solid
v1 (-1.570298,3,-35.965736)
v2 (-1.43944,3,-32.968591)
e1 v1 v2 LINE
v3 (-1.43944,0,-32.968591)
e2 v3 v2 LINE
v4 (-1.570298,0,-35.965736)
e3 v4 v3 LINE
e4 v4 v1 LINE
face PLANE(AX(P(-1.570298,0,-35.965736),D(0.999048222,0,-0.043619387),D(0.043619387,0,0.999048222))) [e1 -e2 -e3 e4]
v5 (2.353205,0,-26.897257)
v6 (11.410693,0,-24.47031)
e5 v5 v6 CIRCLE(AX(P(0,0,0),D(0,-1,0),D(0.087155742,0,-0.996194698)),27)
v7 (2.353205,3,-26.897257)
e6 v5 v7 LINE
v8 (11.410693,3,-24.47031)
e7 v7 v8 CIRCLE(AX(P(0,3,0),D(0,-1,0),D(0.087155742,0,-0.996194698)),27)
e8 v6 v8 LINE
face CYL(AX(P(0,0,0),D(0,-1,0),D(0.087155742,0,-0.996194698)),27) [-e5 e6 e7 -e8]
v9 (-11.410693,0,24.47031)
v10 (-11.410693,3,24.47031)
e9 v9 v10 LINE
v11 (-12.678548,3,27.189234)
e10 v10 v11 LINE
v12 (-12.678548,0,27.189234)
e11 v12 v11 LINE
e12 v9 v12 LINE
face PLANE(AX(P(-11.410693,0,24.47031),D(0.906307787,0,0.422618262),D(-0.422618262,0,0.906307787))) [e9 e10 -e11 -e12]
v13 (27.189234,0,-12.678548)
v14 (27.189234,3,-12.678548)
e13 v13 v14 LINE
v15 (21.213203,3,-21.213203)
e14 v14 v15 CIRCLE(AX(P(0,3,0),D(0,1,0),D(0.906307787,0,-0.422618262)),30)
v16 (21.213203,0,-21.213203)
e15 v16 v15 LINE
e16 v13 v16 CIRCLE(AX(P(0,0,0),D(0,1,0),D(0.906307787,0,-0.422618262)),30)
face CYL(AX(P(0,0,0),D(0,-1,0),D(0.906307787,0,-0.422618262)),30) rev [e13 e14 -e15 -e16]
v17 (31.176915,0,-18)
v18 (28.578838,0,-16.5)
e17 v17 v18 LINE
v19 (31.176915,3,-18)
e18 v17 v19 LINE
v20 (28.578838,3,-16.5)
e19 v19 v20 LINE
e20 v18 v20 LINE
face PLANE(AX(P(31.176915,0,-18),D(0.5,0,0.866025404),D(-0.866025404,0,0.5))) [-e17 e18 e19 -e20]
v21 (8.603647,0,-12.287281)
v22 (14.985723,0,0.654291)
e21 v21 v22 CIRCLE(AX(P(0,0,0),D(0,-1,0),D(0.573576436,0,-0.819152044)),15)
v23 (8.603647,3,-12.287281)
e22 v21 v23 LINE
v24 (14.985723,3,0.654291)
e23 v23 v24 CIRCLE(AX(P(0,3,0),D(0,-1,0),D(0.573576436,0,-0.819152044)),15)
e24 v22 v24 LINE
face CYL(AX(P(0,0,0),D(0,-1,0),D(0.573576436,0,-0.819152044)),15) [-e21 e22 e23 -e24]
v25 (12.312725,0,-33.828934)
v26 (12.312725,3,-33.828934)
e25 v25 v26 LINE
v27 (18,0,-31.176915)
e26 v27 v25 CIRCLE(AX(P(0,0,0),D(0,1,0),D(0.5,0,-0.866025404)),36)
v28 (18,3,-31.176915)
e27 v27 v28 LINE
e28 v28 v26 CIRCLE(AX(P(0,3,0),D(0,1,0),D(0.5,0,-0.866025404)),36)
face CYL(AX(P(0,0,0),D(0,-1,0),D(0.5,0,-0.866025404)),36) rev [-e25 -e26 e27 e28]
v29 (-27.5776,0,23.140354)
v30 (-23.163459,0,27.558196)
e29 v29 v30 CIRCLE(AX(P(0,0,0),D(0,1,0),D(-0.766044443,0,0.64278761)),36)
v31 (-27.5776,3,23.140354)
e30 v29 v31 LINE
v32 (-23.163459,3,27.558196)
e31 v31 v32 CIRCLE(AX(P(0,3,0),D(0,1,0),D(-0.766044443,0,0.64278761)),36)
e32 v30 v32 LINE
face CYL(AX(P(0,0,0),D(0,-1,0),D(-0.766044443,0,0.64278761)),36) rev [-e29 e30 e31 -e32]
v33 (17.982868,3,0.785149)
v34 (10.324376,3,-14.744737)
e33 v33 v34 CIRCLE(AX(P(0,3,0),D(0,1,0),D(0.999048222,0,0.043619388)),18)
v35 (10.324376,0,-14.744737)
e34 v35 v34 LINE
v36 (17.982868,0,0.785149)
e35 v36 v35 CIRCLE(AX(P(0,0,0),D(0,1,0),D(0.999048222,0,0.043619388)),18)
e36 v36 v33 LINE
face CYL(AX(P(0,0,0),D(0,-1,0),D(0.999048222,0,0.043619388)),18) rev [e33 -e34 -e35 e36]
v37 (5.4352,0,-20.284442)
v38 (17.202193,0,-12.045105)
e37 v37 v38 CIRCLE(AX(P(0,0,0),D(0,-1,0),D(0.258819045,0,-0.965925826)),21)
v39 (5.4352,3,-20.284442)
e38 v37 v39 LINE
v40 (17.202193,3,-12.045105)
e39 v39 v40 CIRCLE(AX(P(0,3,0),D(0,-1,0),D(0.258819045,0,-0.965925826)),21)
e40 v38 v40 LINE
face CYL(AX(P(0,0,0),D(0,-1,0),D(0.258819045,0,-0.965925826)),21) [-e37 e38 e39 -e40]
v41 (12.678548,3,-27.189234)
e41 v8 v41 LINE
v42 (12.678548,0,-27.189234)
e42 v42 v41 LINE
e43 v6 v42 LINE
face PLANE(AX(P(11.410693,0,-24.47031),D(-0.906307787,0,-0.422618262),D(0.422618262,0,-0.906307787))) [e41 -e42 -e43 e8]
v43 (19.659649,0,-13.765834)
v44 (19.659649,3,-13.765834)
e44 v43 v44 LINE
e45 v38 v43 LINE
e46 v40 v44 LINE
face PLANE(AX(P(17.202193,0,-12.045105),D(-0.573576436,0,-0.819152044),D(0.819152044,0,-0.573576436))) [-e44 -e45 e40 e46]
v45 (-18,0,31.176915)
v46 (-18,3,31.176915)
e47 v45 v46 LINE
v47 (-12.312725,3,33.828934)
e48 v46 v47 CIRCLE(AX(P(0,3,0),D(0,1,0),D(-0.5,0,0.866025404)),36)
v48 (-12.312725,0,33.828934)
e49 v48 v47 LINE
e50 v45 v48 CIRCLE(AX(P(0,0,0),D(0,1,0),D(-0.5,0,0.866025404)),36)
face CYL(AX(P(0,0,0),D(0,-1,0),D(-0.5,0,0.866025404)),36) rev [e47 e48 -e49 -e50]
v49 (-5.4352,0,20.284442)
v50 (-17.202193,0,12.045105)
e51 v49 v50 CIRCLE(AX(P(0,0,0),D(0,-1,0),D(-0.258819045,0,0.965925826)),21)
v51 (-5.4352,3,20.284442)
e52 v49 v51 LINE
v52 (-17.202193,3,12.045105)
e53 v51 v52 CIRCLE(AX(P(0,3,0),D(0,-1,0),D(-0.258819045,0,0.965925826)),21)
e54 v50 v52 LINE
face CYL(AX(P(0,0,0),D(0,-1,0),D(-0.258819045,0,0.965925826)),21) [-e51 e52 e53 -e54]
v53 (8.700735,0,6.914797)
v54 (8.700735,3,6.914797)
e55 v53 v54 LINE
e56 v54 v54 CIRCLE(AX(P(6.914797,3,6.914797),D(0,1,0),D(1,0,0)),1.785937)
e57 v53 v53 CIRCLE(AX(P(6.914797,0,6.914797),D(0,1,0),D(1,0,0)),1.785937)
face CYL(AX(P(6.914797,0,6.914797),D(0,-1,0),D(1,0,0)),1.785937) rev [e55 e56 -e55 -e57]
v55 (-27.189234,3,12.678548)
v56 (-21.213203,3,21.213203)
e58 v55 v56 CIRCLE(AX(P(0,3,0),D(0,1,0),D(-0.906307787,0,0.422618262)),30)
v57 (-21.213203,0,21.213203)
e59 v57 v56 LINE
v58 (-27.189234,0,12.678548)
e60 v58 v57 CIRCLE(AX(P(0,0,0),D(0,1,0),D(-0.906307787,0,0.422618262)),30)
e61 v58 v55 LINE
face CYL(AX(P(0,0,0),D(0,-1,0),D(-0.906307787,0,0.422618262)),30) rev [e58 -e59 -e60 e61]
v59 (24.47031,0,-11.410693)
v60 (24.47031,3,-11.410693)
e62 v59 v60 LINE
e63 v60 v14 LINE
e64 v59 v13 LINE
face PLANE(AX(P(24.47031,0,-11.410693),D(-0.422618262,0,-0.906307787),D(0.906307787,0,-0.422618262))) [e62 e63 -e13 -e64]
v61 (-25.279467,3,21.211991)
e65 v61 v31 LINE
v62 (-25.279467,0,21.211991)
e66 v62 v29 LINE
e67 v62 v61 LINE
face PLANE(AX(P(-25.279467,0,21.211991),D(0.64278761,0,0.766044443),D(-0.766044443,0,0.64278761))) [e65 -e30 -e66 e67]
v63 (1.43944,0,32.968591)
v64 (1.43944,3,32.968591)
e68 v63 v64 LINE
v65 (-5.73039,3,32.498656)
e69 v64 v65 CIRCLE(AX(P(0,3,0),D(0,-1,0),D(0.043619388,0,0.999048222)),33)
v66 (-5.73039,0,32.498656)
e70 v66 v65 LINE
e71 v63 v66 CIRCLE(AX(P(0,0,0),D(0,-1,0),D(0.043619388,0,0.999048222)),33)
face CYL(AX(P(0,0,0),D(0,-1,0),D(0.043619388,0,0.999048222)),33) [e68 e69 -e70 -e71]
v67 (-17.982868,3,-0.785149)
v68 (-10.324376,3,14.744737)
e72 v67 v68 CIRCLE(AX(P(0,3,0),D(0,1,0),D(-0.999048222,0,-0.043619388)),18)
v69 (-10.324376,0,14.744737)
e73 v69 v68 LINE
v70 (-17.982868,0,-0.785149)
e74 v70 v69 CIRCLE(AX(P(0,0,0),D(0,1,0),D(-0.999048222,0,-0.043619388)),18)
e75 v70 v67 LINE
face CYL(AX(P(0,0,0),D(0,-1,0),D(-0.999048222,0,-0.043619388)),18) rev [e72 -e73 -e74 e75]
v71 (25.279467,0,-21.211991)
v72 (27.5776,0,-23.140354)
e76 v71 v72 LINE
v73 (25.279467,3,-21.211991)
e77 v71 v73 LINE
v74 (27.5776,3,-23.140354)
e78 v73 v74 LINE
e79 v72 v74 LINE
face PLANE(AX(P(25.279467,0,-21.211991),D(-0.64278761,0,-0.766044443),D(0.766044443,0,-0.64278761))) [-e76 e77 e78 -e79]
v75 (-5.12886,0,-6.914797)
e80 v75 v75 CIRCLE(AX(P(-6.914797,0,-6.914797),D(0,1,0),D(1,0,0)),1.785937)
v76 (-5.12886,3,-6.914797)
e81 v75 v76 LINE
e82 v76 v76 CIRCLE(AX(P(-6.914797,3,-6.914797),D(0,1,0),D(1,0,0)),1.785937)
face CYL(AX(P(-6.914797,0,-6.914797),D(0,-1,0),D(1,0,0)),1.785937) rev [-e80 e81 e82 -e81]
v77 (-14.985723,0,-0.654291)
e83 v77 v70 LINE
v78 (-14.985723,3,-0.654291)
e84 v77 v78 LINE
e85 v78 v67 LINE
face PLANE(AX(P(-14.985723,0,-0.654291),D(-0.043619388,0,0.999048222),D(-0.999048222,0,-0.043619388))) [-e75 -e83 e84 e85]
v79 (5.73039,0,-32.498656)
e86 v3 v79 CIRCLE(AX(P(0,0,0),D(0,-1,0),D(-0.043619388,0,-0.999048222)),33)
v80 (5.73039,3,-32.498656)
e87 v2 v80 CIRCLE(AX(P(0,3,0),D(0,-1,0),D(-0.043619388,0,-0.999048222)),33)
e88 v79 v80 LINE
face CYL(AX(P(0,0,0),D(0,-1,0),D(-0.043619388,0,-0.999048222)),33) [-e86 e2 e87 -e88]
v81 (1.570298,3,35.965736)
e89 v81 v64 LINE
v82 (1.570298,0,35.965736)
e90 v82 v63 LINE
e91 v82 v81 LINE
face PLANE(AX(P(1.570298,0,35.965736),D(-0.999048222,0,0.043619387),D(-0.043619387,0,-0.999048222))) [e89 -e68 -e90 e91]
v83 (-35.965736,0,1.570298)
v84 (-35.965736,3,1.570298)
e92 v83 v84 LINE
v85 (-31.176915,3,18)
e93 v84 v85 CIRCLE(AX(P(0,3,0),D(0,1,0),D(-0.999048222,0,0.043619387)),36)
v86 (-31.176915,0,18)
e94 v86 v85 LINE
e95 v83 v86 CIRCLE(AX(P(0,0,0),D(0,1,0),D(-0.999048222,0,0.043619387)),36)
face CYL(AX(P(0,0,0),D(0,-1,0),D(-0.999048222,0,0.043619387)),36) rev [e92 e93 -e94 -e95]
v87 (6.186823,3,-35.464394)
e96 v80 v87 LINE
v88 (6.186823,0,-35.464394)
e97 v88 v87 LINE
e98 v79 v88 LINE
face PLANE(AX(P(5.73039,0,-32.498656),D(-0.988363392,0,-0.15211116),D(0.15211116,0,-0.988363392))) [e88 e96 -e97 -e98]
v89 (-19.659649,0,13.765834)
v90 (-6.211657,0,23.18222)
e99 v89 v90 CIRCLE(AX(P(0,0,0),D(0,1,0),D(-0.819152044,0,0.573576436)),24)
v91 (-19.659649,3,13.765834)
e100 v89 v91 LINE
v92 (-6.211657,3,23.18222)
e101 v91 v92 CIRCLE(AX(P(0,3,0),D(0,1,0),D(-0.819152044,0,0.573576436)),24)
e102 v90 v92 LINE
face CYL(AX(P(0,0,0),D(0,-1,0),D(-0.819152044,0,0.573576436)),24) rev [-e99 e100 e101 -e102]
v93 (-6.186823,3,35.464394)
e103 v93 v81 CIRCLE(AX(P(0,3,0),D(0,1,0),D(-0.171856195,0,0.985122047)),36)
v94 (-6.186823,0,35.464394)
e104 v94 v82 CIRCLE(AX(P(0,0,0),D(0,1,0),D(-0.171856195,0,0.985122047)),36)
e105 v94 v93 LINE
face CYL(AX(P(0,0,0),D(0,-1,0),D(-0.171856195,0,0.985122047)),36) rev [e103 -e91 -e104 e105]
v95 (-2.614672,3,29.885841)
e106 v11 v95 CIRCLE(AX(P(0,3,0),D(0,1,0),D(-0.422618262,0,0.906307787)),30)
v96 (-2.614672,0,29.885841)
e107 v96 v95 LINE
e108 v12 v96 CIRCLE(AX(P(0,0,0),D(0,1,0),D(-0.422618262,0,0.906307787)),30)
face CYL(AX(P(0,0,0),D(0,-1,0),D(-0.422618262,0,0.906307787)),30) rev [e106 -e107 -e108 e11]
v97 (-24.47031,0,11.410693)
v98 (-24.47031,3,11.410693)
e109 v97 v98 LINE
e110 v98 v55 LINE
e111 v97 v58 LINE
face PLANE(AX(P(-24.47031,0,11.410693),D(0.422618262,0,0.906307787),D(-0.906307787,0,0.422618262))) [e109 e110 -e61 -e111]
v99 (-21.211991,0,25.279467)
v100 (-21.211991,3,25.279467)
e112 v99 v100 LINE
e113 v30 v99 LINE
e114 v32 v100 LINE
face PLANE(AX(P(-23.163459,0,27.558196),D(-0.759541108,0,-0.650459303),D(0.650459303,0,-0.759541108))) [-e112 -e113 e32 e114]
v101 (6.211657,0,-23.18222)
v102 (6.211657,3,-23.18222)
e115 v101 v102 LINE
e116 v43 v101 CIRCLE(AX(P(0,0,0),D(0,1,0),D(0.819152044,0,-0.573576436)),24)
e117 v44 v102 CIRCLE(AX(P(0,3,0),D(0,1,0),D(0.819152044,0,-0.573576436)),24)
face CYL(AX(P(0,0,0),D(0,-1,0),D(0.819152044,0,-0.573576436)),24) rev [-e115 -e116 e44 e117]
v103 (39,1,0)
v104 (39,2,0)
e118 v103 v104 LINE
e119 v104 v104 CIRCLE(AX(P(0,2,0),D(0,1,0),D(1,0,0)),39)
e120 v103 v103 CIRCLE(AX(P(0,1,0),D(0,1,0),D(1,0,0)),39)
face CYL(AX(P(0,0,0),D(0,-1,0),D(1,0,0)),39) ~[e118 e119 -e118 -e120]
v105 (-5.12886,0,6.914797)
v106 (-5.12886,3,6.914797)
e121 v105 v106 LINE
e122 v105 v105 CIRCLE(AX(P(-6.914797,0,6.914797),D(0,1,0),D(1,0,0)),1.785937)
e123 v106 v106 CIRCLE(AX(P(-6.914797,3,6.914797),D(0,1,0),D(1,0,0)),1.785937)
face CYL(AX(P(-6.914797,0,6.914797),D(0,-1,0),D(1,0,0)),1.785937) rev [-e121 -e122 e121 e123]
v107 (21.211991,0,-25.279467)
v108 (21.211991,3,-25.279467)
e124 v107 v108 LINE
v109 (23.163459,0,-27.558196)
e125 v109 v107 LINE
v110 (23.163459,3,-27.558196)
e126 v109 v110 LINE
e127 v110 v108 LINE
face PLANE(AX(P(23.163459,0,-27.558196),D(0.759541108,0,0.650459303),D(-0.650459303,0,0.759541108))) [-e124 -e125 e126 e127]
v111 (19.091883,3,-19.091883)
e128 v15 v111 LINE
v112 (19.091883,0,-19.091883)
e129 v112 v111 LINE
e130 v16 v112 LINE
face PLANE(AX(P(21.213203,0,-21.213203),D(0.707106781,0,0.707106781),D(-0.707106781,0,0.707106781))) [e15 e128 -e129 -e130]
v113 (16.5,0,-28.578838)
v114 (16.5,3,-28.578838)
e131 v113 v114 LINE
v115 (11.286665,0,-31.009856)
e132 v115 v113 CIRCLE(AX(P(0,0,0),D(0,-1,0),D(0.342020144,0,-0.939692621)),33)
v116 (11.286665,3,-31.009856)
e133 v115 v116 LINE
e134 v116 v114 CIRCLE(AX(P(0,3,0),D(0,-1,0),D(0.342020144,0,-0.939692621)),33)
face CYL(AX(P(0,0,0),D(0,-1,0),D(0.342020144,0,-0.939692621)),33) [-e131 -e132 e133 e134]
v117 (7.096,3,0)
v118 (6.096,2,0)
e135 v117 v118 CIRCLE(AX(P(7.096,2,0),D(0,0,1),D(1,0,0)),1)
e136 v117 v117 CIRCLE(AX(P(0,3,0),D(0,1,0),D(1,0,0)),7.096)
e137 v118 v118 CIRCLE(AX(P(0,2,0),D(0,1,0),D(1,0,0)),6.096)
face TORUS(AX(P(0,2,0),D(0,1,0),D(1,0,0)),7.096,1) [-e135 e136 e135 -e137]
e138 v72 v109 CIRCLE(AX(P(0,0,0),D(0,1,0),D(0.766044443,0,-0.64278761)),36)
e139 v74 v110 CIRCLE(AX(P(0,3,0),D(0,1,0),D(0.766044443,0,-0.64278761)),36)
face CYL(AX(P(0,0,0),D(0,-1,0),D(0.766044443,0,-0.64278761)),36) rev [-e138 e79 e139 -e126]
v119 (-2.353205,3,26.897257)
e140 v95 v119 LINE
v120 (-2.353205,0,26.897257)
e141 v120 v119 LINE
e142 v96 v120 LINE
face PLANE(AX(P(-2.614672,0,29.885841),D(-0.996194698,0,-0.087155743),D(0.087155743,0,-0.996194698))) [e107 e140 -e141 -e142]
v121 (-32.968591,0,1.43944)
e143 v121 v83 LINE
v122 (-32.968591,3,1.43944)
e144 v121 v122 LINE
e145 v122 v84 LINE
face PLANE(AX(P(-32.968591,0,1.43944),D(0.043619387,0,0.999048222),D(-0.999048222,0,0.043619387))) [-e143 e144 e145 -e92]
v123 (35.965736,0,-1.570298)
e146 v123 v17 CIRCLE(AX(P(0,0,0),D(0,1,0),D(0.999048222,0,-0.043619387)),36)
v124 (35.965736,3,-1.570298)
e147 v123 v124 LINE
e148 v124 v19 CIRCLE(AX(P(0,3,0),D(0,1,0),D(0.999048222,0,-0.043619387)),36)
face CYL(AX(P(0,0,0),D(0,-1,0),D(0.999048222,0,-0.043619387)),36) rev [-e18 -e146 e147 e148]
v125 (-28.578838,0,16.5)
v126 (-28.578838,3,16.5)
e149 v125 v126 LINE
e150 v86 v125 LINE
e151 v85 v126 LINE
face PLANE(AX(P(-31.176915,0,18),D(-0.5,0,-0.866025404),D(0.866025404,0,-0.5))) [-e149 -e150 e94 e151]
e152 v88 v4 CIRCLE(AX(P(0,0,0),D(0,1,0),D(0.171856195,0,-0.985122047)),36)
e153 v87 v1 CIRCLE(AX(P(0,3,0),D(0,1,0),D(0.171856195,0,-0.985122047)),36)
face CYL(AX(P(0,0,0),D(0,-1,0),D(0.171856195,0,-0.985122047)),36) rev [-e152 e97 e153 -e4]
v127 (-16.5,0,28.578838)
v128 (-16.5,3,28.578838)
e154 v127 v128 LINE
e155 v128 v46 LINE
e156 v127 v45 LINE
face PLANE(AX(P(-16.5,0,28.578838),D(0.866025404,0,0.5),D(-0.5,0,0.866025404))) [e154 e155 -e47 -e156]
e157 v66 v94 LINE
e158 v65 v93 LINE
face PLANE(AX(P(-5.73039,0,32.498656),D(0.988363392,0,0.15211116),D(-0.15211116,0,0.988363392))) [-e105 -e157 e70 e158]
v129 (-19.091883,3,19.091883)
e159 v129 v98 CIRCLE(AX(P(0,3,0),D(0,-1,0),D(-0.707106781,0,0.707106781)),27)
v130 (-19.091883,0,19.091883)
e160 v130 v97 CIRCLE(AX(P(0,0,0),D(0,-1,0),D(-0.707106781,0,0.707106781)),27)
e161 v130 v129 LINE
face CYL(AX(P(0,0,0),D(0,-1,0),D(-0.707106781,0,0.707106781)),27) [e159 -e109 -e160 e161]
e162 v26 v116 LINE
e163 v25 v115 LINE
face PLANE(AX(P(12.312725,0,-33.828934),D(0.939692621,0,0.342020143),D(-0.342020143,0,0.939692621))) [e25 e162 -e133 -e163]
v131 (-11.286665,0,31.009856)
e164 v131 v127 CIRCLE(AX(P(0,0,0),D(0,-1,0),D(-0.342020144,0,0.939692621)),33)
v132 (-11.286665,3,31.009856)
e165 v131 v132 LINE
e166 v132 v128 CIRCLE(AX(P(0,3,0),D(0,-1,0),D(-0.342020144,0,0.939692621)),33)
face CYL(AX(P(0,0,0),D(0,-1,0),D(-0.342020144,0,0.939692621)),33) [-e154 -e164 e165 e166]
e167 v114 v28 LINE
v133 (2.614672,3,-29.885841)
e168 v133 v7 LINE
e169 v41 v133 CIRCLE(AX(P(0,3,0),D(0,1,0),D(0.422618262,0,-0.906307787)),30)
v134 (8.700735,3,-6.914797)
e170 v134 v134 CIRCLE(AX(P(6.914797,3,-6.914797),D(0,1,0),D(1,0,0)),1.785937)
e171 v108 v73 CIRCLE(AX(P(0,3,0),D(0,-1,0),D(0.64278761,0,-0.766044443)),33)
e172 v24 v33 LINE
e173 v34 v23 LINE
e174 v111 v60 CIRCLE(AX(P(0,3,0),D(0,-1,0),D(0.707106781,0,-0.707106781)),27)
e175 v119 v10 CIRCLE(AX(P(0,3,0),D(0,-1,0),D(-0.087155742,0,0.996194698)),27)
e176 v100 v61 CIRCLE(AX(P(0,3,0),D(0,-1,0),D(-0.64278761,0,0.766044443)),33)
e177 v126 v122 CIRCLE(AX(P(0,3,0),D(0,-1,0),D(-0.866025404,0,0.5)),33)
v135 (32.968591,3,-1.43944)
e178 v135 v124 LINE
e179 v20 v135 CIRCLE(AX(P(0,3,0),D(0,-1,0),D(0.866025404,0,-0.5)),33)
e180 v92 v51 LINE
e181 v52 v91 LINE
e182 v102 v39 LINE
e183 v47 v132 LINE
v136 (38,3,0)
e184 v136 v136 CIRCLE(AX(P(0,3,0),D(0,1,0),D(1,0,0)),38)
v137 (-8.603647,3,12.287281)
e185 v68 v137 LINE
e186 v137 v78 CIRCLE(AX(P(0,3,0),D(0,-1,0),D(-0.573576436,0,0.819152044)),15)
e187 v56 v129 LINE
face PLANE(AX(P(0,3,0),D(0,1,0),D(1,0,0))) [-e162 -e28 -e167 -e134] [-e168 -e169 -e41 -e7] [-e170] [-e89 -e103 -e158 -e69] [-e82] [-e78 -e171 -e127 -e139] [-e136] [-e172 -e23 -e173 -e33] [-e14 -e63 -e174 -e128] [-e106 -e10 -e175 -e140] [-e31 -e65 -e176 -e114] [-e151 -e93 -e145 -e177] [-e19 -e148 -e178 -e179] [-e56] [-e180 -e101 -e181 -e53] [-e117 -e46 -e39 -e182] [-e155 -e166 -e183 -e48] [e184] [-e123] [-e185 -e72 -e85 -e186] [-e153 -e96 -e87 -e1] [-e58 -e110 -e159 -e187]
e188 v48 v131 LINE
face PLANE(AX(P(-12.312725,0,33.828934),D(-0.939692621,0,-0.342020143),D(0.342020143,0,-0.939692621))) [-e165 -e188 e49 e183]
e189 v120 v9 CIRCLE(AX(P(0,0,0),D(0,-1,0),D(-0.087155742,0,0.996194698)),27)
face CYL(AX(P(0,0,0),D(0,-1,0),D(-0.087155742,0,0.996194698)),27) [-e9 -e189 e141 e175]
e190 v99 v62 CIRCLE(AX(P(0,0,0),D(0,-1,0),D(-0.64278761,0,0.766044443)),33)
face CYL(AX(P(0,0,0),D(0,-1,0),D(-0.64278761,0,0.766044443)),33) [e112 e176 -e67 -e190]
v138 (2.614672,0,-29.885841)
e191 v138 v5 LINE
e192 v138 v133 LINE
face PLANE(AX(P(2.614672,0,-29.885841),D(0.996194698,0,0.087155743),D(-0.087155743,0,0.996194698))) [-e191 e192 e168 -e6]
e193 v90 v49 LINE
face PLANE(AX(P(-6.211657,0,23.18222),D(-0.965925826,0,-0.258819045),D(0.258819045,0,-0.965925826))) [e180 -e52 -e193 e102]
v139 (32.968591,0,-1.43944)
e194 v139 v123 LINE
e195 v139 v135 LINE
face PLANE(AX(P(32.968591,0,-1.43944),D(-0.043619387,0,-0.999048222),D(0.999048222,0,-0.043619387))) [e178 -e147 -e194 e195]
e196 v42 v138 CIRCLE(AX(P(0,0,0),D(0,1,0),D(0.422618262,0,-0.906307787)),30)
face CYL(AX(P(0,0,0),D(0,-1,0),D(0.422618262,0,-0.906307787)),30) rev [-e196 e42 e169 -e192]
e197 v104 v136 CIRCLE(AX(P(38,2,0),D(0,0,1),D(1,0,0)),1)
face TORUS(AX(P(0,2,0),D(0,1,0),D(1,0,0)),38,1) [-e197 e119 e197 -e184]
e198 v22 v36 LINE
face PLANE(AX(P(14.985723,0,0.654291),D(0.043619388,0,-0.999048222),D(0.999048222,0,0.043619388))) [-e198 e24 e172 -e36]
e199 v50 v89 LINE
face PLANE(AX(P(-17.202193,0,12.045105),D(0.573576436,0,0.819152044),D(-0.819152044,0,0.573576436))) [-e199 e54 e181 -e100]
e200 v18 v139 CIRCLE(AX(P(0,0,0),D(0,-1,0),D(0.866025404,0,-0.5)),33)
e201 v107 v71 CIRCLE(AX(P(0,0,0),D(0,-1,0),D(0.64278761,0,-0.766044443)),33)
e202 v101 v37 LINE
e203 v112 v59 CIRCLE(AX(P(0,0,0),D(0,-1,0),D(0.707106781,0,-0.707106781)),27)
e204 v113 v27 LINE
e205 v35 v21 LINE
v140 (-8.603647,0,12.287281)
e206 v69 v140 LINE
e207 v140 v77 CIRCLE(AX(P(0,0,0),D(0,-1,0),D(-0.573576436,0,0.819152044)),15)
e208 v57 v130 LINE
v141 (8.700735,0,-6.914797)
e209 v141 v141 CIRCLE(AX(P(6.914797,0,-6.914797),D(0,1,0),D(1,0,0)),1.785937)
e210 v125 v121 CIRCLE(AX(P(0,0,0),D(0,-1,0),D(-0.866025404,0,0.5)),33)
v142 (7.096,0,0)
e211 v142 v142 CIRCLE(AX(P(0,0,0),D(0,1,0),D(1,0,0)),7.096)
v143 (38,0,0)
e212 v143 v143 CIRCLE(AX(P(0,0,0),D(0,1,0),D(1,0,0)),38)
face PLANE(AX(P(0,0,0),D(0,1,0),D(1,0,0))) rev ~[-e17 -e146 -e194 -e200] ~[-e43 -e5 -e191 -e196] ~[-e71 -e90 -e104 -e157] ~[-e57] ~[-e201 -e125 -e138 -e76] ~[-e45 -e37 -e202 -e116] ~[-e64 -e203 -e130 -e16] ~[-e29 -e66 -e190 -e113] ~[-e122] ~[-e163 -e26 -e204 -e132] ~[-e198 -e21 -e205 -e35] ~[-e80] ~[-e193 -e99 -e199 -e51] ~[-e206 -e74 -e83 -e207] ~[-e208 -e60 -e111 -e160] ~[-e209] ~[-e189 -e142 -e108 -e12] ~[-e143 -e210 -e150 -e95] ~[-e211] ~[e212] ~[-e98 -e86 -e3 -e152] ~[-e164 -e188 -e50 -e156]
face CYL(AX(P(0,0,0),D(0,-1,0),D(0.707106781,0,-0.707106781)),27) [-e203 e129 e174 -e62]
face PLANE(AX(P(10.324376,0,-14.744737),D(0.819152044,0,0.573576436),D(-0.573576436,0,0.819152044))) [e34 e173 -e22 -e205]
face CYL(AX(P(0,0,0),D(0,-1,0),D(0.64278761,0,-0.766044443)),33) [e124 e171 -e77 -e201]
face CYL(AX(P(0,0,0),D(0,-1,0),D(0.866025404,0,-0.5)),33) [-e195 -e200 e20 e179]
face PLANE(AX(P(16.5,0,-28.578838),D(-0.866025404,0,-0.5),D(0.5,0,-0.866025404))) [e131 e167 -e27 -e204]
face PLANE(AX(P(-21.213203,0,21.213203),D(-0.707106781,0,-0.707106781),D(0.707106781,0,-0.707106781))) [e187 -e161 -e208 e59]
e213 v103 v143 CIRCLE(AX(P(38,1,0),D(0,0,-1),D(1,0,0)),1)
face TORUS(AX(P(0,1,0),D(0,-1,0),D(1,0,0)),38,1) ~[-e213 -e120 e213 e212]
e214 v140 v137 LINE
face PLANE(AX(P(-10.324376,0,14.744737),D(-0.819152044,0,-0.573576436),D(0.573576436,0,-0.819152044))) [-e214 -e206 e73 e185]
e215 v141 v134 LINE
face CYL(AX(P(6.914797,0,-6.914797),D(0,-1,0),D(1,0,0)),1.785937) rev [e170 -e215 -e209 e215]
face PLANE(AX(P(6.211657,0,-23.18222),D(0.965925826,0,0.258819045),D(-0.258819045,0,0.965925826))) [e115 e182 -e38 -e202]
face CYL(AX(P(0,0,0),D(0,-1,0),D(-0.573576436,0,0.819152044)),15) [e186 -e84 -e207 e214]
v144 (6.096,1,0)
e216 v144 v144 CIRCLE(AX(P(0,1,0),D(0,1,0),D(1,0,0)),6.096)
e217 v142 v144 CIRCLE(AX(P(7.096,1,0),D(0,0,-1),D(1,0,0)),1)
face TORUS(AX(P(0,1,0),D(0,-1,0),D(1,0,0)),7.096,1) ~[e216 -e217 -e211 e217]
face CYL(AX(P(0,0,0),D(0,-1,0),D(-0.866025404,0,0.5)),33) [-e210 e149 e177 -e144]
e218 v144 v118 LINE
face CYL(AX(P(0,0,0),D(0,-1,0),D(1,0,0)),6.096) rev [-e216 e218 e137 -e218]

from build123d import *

# Parameters (mm, degrees)
SKETCH4_R           = 39
BOSS_EXTRUDE1_DEPTH = 3
CUT_EXTRUDE1_DEPTH  = 3
SKETCH1_R           = 6.096
SKETCH1_R_2         = 1.7859375
CUT_EXTRUDE3_DEPTH  = 3
FILLET1_R           = 1


with BuildPart() as part:
    # Sketch4 → Boss-Extrude1 (new body)
    with BuildSketch(Plane(origin=(0, 0, 0), x_dir=(1, 0, 0), z_dir=(0, 1, 0))):
        Circle(SKETCH4_R)
    extrude(amount=BOSS_EXTRUDE1_DEPTH)

    # Sketch3 → Cut-Extrude1 (cut)
    with BuildSketch(Plane(origin=(0, 0, 0), x_dir=(1, 0, 0), z_dir=(0, 1, 0))):
        with BuildLine():
            Line((32.968591312, 1.439439783), (35.965735977, 1.570297945))
            ThreePointArc((35.965735977, 1.570297945), (34.561794758, 10.073844505), (31.176914536, 18))
            Line((31.176914536, 18), (28.578838325, 16.5))
            ThreePointArc((28.578838325, 16.5), (31.681645195, 9.234357463), (32.968591312, 1.439439783))
        make_face()
        with BuildLine():
            Line((-1.570297945, 35.965735977), (-1.439439783, 32.968591312))
            ThreePointArc((-1.439439783, 32.968591312), (2.158303265, 32.929344467), (5.730389863, 32.498655849))
            Line((5.730389863, 32.498655849), (6.186823022, 35.464393705))
            ThreePointArc((6.186823022, 35.464393705), (2.321833751, 35.925048198), (-1.570297945, 35.965735977))
        make_face()
        with BuildLine():
            Line((12.31272516, 33.828934348), (11.28666473, 31.009856486))
            ThreePointArc((11.28666473, 31.009856486), (13.946402637, 29.908156972), (16.5, 28.578838325))
            Line((16.5, 28.578838325), (18, 31.176914536))
            ThreePointArc((18, 31.176914536), (15.214257423, 32.627080333), (12.31272516, 33.828934348))
        make_face()
        with BuildLine():
            Line((23.163459499, 27.558195587), (21.21199112, 25.279466623))
            ThreePointArc((21.21199112, 25.279466623), (23.334523779, 23.334523779), (25.279466623, 21.21199112))
            Line((25.279466623, 21.21199112), (27.577599952, 23.140353949))
            ThreePointArc((27.577599952, 23.140353949), (25.466509571, 25.445174203), (23.163459499, 27.558195587))
        make_face()
        with BuildLine():
            Line((14.985723324, -0.65429081), (17.982867988, -0.785148973))
            ThreePointArc((17.982867988, -0.785148973), (16.143709348, 7.961196424), (10.324375854, 14.744736797))
            Line((10.324375854, 14.744736797), (8.603646545, 12.287280664))
            ThreePointArc((8.603646545, 12.287280664), (13.453091123, 6.634330353), (14.985723324, -0.65429081))
        make_face()
        with BuildLine():
            Line((2.614672282, 29.885840943), (2.353205054, 26.897256848))
            ThreePointArc((2.353205054, 26.897256848), (6.988114218, 26.07999731), (11.410693067, 24.47031025))
            Line((11.410693067, 24.47031025), (12.678547852, 27.189233611))
            ThreePointArc((12.678547852, 27.189233611), (7.764571353, 28.977774789), (2.614672282, 29.885840943))
        make_face()
        with BuildLine():
            Line((21.213203436, 21.213203436), (19.091883092, 19.091883092))
            ThreePointArc((19.091883092, 19.091883092), (22.117105196, 15.486563781), (24.47031025, 11.410693067))
            Line((24.47031025, 11.410693067), (27.189233611, 12.678547852))
            ThreePointArc((27.189233611, 12.678547852), (24.574561329, 17.207293091), (21.213203436, 21.213203436))
        make_face()
        with BuildLine():
            Line((6.211657082, 23.182219831), (5.435199947, 20.284442352))
            ThreePointArc((5.435199947, 20.284442352), (12.045105163, 17.20219293), (17.20219293, 12.045105163))
            Line((17.20219293, 12.045105163), (19.659649063, 13.765834472))
            ThreePointArc((19.659649063, 13.765834472), (13.765834472, 19.659649063), (6.211657082, 23.182219831))
        make_face()
        with BuildLine():
            Line((-32.968591312, -1.439439783), (-35.965735977, -1.570297945))
            ThreePointArc((-35.965735977, -1.570297945), (-34.561794758, -10.073844505), (-31.176914536, -18))
            Line((-31.176914536, -18), (-28.578838325, -16.5))
            ThreePointArc((-28.578838325, -16.5), (-31.681645195, -9.234357463), (-32.968591312, -1.439439783))
        make_face()
        with BuildLine():
            Line((1.570297945, -35.965735977), (1.439439783, -32.968591312))
            ThreePointArc((1.439439783, -32.968591312), (-2.158303265, -32.929344467), (-5.730389863, -32.498655849))
            Line((-5.730389863, -32.498655849), (-6.186823022, -35.464393705))
            ThreePointArc((-6.186823022, -35.464393705), (-2.321833751, -35.925048198), (1.570297945, -35.965735977))
        make_face()
        with BuildLine():
            Line((-12.31272516, -33.828934348), (-11.28666473, -31.009856486))
            ThreePointArc((-11.28666473, -31.009856486), (-13.946402637, -29.908156972), (-16.5, -28.578838325))
            Line((-16.5, -28.578838325), (-18, -31.176914536))
            ThreePointArc((-18, -31.176914536), (-15.214257423, -32.627080333), (-12.31272516, -33.828934348))
        make_face()
        with BuildLine():
            Line((-23.163459499, -27.558195587), (-21.21199112, -25.279466623))
            ThreePointArc((-21.21199112, -25.279466623), (-23.334523779, -23.334523779), (-25.279466623, -21.21199112))
            Line((-25.279466623, -21.21199112), (-27.577599952, -23.140353949))
            ThreePointArc((-27.577599952, -23.140353949), (-25.466509571, -25.445174203), (-23.163459499, -27.558195587))
        make_face()
        with BuildLine():
            Line((-14.985723324, 0.65429081), (-17.982867988, 0.785148973))
            ThreePointArc((-17.982867988, 0.785148973), (-16.143709348, -7.961196424), (-10.324375854, -14.744736797))
            Line((-10.324375854, -14.744736797), (-8.603646545, -12.287280664))
            ThreePointArc((-8.603646545, -12.287280664), (-13.453091123, -6.634330353), (-14.985723324, 0.65429081))
        make_face()
        with BuildLine():
            Line((-2.614672282, -29.885840943), (-2.353205054, -26.897256848))
            ThreePointArc((-2.353205054, -26.897256848), (-6.988114218, -26.07999731), (-11.410693067, -24.47031025))
            Line((-11.410693067, -24.47031025), (-12.678547852, -27.189233611))
            ThreePointArc((-12.678547852, -27.189233611), (-7.764571353, -28.977774789), (-2.614672282, -29.885840943))
        make_face()
        with BuildLine():
            Line((-21.213203436, -21.213203436), (-19.091883092, -19.091883092))
            ThreePointArc((-19.091883092, -19.091883092), (-22.117105196, -15.486563781), (-24.47031025, -11.410693067))
            Line((-24.47031025, -11.410693067), (-27.189233611, -12.678547852))
            ThreePointArc((-27.189233611, -12.678547852), (-24.574561329, -17.207293091), (-21.213203436, -21.213203436))
        make_face()
        with BuildLine():
            Line((-6.211657082, -23.182219831), (-5.435199947, -20.284442352))
            ThreePointArc((-5.435199947, -20.284442352), (-12.045105163, -17.20219293), (-17.20219293, -12.045105163))
            Line((-17.20219293, -12.045105163), (-19.659649063, -13.765834472))
            ThreePointArc((-19.659649063, -13.765834472), (-13.765834472, -19.659649063), (-6.211657082, -23.182219831))
        make_face()
    extrude(amount=CUT_EXTRUDE1_DEPTH, mode=Mode.SUBTRACT)

    # Sketch1 → Cut-Extrude3 (cut)
    with BuildSketch(Plane(origin=(0, 0, 0), x_dir=(1, 0, 0), z_dir=(0, 1, 0))):
        Circle(SKETCH1_R)
        with Locations((6.914797213, 6.914797213)):
            Circle(SKETCH1_R_2)
        with Locations((6.914797213, -6.914797213)):
            Circle(SKETCH1_R_2)
        with Locations((-6.914797213, -6.914797213)):
            Circle(SKETCH1_R_2)
        with Locations((-6.914797213, 6.914797213)):
            Circle(SKETCH1_R_2)
    extrude(amount=CUT_EXTRUDE3_DEPTH, mode=Mode.SUBTRACT)

    # Fillet1
    fillet1_edges = [part.edges().sort_by_distance(p)[0] for p in [
        (-39, 0, 0),
        (-6.096, 0, 0),
        (-6.096, 3, 0),
        (-39, 3, 0),
    ]]
    fillet(fillet1_edges, radius=FILLET1_R)


solid = part.part
